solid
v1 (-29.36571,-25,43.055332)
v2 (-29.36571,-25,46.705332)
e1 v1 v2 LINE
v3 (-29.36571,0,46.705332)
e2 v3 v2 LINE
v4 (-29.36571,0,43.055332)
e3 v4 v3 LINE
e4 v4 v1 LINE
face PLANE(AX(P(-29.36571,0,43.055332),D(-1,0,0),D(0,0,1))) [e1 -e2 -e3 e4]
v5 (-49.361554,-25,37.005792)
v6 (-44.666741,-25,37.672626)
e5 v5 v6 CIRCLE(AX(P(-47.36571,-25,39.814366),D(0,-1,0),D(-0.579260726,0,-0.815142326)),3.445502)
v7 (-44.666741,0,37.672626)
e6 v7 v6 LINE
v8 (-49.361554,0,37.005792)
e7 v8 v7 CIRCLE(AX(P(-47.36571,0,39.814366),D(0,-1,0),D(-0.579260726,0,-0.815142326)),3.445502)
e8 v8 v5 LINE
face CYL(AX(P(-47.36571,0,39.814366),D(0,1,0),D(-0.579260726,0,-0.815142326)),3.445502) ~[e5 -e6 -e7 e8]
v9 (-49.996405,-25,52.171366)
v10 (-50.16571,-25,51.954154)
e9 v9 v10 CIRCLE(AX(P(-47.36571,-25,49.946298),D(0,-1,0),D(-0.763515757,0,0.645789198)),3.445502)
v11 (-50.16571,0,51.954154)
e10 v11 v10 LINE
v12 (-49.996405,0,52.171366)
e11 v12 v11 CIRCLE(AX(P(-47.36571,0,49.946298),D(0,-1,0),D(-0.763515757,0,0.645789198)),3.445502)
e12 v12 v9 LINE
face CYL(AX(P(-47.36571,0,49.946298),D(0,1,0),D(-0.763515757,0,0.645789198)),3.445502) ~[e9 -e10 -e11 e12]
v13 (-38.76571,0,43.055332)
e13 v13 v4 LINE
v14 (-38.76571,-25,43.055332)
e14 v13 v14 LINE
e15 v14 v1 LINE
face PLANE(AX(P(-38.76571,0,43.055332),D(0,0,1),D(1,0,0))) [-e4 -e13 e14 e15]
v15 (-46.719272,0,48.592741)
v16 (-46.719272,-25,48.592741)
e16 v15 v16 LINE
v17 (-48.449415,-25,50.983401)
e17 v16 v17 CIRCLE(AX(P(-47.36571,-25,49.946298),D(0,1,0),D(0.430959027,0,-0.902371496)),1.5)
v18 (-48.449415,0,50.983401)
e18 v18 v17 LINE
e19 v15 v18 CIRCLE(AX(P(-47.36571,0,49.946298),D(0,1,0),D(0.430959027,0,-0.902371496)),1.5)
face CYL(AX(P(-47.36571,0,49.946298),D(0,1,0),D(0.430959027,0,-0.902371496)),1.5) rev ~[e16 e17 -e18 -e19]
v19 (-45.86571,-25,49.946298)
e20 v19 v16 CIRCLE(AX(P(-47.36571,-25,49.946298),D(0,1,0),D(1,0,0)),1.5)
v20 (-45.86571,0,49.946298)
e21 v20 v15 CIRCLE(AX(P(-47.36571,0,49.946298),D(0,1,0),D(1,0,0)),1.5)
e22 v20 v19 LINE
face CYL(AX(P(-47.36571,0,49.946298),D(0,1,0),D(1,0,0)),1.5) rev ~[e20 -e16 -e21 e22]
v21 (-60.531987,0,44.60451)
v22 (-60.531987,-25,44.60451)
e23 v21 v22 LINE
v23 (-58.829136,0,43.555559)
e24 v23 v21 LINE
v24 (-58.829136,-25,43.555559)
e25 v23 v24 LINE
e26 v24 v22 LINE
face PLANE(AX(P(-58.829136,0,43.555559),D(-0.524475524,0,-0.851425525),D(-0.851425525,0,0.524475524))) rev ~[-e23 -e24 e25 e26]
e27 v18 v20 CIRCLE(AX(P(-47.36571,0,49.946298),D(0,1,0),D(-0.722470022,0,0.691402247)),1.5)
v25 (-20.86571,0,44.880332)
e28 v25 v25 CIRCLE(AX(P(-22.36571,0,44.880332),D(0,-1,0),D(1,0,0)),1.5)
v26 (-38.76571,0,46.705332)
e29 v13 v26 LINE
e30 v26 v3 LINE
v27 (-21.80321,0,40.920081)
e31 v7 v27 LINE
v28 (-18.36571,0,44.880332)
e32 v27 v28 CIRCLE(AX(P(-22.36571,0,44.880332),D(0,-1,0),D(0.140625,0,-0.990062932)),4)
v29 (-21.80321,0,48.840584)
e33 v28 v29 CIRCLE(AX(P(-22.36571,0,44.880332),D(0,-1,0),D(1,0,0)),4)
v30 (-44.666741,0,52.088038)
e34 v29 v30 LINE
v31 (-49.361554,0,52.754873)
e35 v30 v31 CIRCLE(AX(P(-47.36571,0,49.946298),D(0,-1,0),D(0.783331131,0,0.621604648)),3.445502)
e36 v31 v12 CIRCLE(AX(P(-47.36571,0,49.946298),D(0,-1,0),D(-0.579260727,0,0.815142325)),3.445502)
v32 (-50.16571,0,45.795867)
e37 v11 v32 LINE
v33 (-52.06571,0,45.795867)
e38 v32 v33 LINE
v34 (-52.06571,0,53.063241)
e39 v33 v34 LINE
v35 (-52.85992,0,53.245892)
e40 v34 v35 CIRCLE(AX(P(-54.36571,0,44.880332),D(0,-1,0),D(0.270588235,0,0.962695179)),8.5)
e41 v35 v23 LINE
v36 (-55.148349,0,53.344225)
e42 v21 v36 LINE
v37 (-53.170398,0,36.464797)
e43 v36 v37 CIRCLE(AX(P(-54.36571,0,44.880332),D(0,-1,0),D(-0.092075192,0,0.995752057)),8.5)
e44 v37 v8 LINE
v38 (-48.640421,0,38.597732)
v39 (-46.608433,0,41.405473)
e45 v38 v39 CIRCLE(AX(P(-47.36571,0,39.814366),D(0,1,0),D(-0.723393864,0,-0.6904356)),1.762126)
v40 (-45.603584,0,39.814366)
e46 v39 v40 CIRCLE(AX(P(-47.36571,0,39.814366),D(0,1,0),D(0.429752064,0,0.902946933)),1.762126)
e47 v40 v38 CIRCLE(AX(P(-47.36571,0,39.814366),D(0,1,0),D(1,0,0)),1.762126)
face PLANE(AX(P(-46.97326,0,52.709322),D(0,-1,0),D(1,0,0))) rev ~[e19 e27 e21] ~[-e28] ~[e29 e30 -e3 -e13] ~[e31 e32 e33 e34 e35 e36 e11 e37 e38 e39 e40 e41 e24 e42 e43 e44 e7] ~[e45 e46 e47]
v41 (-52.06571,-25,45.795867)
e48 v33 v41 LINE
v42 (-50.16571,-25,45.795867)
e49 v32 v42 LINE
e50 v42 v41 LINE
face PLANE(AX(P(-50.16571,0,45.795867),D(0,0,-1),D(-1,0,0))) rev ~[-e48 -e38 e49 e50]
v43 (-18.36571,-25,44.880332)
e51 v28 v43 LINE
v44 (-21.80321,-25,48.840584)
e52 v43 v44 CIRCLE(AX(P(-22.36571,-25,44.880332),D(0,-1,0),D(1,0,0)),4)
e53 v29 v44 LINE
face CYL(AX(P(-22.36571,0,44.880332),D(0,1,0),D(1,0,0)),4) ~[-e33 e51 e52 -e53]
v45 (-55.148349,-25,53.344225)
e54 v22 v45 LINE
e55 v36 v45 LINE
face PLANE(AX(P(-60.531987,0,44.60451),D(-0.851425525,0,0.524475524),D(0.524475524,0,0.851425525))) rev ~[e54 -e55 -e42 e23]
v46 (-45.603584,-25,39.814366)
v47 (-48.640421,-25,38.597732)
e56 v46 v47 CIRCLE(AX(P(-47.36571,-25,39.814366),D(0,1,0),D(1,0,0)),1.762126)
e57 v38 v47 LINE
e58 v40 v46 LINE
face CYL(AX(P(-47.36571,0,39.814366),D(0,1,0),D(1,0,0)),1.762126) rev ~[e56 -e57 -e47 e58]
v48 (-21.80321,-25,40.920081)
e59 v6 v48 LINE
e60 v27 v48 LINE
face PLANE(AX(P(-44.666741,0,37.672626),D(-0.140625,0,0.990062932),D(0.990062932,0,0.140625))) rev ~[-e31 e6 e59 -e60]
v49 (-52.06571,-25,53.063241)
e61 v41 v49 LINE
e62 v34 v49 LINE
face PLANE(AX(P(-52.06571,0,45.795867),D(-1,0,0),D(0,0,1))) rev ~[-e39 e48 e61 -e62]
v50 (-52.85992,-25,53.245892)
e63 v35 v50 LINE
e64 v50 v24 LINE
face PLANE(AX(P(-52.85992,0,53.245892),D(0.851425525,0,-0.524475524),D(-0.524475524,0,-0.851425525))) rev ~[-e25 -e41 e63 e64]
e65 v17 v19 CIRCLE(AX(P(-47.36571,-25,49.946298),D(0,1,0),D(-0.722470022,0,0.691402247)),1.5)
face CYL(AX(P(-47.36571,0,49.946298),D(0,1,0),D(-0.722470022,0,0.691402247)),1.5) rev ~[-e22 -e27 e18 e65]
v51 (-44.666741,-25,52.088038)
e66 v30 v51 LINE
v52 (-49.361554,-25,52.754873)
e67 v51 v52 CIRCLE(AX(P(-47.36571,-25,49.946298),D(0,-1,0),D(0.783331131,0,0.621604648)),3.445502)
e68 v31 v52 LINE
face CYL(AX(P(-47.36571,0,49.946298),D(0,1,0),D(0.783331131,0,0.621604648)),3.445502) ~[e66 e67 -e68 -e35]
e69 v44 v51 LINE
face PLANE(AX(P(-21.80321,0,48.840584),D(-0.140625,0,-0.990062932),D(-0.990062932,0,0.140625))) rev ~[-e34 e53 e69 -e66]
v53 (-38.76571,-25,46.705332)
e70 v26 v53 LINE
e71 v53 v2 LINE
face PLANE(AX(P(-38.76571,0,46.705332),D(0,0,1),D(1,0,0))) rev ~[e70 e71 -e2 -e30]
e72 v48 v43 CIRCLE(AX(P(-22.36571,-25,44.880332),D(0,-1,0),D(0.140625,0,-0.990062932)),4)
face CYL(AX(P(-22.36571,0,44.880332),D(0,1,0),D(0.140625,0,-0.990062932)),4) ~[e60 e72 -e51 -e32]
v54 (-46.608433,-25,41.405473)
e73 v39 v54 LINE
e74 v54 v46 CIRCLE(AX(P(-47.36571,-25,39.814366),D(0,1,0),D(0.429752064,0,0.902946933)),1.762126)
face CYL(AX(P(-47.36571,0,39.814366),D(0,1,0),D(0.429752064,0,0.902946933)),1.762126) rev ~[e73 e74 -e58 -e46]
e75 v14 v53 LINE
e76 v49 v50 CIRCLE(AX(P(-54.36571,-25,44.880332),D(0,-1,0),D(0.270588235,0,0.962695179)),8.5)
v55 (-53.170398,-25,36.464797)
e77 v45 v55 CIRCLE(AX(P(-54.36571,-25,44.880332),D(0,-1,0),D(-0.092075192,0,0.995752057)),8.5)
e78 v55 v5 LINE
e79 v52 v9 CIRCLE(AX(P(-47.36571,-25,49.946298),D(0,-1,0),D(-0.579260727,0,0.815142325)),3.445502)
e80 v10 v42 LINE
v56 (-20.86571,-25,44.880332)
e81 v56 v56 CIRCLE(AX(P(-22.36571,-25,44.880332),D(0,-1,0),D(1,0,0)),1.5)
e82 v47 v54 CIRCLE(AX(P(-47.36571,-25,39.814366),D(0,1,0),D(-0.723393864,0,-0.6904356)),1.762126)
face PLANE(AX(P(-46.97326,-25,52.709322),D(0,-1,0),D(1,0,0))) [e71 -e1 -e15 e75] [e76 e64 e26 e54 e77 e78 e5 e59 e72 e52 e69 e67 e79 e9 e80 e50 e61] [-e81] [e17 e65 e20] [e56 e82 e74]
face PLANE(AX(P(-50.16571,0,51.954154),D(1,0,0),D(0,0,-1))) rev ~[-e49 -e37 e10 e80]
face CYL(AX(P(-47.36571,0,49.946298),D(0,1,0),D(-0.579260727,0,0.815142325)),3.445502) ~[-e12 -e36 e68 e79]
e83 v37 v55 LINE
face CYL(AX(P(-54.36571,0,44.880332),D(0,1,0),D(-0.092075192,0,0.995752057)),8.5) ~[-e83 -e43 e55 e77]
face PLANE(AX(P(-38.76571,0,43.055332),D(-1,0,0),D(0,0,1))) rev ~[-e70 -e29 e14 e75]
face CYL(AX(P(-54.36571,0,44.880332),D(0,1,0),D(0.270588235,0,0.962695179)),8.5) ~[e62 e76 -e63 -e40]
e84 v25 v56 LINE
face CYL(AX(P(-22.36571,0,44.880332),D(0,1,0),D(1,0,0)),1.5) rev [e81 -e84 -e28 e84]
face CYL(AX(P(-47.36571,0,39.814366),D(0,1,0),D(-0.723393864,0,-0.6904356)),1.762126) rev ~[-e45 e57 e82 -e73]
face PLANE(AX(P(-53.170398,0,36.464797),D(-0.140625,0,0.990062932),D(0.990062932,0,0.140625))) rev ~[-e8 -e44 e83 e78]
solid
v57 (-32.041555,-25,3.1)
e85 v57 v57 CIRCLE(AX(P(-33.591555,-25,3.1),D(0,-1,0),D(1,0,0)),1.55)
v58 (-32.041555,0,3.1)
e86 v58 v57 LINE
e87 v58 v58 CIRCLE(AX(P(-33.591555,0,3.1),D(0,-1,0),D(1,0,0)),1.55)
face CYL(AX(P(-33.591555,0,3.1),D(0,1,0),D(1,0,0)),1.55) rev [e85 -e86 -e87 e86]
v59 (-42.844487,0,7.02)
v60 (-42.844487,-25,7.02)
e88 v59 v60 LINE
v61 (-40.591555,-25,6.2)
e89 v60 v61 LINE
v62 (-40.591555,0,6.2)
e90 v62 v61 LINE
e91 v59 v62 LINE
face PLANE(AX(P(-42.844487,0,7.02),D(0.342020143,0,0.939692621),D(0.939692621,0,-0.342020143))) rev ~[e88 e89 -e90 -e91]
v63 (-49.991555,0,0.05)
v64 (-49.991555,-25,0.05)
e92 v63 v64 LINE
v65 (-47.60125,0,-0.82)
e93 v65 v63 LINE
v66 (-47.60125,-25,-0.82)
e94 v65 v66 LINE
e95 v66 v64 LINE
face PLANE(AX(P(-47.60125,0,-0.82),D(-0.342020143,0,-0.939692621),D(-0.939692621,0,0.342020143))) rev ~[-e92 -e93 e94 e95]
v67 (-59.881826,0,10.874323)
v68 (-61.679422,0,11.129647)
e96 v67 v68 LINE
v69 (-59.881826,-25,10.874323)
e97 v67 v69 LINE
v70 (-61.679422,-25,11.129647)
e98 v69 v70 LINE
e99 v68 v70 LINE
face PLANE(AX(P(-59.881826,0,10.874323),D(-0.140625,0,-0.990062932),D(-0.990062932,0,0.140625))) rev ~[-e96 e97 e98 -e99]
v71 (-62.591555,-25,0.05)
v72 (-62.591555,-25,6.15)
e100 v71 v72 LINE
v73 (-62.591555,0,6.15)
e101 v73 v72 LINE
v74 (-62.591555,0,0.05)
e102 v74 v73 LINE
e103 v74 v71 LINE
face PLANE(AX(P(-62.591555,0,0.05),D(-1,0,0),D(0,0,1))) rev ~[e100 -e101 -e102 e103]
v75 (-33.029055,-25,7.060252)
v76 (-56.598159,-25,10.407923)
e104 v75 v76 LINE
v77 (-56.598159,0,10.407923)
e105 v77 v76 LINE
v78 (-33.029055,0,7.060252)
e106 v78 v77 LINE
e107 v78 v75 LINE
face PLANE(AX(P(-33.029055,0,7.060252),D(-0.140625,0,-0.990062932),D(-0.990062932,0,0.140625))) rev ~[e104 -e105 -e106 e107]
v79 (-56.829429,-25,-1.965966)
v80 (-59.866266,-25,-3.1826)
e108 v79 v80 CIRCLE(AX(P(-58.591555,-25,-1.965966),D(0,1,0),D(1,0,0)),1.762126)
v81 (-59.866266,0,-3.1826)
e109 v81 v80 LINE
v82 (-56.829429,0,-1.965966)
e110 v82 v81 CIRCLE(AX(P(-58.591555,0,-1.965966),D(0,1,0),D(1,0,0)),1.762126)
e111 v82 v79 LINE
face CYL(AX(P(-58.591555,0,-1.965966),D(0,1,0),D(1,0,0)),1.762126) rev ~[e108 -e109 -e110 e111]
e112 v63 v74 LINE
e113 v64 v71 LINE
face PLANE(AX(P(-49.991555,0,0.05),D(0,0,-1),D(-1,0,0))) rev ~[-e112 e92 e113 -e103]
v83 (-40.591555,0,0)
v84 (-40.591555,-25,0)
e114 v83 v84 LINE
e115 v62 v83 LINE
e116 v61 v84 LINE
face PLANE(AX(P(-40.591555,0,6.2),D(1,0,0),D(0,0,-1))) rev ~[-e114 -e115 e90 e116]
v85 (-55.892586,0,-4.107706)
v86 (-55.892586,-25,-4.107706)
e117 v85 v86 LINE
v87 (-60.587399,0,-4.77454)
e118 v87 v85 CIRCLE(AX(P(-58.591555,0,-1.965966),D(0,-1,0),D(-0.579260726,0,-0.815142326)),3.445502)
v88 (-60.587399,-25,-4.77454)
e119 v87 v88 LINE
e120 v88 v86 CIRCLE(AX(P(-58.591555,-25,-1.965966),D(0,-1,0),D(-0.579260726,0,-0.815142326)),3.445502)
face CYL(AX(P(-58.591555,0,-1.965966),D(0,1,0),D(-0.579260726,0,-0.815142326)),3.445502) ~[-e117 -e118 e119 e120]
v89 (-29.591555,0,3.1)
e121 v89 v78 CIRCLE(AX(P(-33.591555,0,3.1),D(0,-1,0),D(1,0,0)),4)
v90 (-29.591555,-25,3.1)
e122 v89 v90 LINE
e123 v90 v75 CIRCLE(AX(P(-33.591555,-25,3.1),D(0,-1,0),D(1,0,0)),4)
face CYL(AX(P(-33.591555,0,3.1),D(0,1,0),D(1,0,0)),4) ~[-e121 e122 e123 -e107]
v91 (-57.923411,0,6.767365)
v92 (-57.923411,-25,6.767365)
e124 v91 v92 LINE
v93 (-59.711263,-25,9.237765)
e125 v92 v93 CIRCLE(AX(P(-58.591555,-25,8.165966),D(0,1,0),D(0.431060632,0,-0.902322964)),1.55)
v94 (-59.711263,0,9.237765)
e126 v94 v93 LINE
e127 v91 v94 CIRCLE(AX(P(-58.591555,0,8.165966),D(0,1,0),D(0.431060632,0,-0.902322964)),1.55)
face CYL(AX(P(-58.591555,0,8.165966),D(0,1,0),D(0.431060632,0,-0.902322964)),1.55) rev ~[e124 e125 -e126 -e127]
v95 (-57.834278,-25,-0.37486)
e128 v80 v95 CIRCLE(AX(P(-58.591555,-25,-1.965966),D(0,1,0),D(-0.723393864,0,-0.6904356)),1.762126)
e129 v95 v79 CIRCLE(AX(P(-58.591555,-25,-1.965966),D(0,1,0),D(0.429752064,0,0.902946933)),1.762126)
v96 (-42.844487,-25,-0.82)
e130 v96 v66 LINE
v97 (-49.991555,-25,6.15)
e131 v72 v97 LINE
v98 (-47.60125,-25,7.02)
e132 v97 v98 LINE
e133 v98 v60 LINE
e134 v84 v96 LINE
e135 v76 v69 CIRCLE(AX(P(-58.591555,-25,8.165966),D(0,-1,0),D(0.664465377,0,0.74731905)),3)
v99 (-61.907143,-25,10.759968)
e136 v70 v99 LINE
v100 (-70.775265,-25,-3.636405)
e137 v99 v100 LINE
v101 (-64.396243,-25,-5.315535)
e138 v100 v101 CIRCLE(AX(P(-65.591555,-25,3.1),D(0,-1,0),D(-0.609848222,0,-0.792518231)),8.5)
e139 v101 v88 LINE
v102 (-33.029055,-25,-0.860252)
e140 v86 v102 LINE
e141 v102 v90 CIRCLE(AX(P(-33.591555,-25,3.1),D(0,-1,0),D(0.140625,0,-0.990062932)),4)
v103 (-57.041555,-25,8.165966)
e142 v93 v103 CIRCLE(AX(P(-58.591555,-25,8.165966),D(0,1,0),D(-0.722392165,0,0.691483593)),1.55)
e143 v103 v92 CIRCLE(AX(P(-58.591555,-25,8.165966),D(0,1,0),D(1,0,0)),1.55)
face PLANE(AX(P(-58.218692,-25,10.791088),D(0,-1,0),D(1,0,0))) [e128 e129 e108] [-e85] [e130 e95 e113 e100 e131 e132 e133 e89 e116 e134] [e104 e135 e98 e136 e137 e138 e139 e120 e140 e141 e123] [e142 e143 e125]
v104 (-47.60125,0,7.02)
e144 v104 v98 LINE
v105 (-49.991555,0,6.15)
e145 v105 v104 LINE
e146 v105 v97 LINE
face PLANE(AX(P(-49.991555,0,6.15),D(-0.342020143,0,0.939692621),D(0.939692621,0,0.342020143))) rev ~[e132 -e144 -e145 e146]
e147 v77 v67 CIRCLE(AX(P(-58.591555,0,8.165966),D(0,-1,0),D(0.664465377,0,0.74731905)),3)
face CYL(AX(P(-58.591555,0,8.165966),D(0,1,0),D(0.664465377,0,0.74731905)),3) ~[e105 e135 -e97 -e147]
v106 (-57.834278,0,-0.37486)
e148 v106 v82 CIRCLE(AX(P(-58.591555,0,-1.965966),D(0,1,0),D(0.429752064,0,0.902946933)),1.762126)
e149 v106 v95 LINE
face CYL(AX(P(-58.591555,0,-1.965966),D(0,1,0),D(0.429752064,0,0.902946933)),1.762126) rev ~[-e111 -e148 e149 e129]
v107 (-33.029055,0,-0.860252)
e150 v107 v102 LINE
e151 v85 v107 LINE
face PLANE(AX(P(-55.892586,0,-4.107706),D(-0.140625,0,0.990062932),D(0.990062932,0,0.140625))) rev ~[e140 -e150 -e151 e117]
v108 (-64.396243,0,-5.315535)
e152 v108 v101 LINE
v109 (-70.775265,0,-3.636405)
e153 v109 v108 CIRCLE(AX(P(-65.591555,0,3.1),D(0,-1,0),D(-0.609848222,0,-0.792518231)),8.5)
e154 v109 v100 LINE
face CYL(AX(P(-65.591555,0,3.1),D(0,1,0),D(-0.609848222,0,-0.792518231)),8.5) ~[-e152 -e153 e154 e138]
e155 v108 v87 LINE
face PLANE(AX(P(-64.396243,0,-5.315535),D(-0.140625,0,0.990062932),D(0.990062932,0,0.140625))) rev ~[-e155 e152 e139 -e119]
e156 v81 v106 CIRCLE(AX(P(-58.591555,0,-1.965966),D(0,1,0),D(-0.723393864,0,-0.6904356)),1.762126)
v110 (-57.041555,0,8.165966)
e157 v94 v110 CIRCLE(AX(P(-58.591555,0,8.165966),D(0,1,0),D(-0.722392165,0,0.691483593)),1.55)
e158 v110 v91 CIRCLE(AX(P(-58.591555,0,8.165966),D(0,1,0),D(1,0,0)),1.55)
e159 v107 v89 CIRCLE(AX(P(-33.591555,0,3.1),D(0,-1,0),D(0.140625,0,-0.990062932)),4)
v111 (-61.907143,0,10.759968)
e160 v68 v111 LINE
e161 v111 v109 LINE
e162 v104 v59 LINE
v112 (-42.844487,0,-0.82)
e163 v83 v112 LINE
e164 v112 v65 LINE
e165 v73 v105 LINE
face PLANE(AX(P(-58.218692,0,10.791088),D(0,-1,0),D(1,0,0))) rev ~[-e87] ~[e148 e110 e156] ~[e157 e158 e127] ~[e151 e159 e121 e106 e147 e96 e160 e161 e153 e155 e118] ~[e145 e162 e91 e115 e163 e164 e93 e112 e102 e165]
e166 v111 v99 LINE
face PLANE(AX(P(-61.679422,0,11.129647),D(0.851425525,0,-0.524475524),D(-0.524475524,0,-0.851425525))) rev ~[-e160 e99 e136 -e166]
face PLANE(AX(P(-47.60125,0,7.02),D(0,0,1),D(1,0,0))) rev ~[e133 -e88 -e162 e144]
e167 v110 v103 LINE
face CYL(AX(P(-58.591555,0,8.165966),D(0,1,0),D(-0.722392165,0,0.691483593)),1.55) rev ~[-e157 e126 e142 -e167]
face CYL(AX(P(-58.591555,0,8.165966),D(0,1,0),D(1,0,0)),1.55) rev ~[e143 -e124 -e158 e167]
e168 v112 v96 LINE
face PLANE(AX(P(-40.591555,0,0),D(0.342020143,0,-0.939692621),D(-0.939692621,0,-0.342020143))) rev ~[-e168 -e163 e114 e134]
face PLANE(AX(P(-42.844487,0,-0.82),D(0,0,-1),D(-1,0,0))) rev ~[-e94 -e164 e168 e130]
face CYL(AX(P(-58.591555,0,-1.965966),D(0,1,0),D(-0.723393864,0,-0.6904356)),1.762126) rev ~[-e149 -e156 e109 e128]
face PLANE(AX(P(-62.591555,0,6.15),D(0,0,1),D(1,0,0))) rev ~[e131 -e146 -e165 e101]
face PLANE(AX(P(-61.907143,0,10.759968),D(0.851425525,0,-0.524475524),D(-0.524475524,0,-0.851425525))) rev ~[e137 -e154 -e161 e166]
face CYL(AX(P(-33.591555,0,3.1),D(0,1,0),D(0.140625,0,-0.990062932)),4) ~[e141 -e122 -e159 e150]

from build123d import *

# Parameters (mm, degrees)
F0_R     = 1.5
F0_W     = 9.4
F0_H     = 3.65
F1_DEPTH = 25
F0_R_2   = 1.55


with BuildPart() as f1:
    # F0 (on Front) → F1 (new body)
    with BuildSketch(Plane.XZ):
        with BuildLine():
            Line((-49.3615542974, 52.7548726737), (-44.6667412439, 52.0880382086))
            ThreePointArc((-44.6667412439, 52.0880382086), (-46.8811865433, 53.357561984), (-49.3615542974, 52.7548726737))
        make_face()
        with BuildLine():
            ThreePointArc((-49.3615542974, 37.0057918546), (-46.8811865433, 36.4031025443), (-44.6667412439, 37.6726263196))
            Line((-44.6667412439, 37.6726263196), (-49.3615542974, 37.0057918546))
        make_face()
        with BuildLine():
            ThreePointArc((-49.3615542974, 37.0057918546), (-49.6973054486, 37.2776069924), (-49.9964053831, 37.5892984006))
            ThreePointArc((-49.9964053831, 37.5892984006), (-51.5271600553, 36.8683017678), (-53.1703977707, 36.4647973419))
            Line((-53.1703977707, 36.4647973419), (-49.3615542974, 37.0057918546))
        make_face()
        with BuildLine():
            ThreePointArc((-18.3657102707, 44.8803322641), (-19.3449487773, 47.5023543846), (-21.8032102707, 48.8405839922))
            ThreePointArc((-21.8032102707, 48.8405839922), (-26.3657102707, 44.8803322641), (-21.8032102707, 40.920080536))
            ThreePointArc((-21.8032102707, 40.920080536), (-19.3449487773, 42.2583101437), (-18.3657102707, 44.8803322641))
        make_face()
        with Locations((-22.3657102707, 44.8803322641)):
            Circle(F0_R, mode=Mode.SUBTRACT)
        with BuildLine():
            ThreePointArc((-46.7192717295, 48.5927408672), (-46.3438242586, 47.690909573), (-46.0743279136, 46.751956855))
            ThreePointArc((-46.0743279136, 46.751956855), (-44.5090561942, 48.0198994141), (-43.9202082096, 49.9462981111))
            ThreePointArc((-43.9202082096, 49.9462981111), (-44.1121900389, 51.0803574368), (-44.6667412439, 52.0880382086))
            Line((-44.6667412439, 52.0880382086), (-49.3615542974, 52.7548726737))
            ThreePointArc((-49.3615542974, 52.7548726737), (-49.6973054486, 52.4830575358), (-49.9964053831, 52.1713661277))
            ThreePointArc((-49.9964053831, 52.1713661277), (-49.1887221415, 51.6219043293), (-48.4494153042, 50.9834014813))
            ThreePointArc((-48.4494153042, 50.9834014813), (-46.806942676, 51.3383393372), (-45.8657102707, 49.9462981111))
            ThreePointArc((-45.8657102707, 49.9462981111), (-46.096919939, 49.1461911844), (-46.7192717295, 48.5927408672))
        make_face()
        with BuildLine():
            ThreePointArc((-43.9202082096, 39.8143664172), (-44.5090561942, 41.7407651142), (-46.0743279136, 43.0087076733))
            ThreePointArc((-46.0743279136, 43.0087076733), (-46.3014397022, 42.1937842564), (-46.6084329672, 41.4054727221))
            ThreePointArc((-46.6084329672, 41.4054727221), (-45.875826677, 40.7552888716), (-45.6035842286, 39.8143664172))
            ThreePointArc((-45.6035842286, 39.8143664172), (-46.710391094, 38.1786265342), (-48.6404214365, 38.5977318658))
            ThreePointArc((-48.6404214365, 38.5977318658), (-49.2932907183, 38.0597340583), (-49.9964053831, 37.5892984006))
            ThreePointArc((-49.9964053831, 37.5892984006), (-49.6973054486, 37.2776069924), (-49.3615542974, 37.0057918546))
            Line((-49.3615542974, 37.0057918546), (-44.6667412439, 37.6726263196))
            ThreePointArc((-44.6667412439, 37.6726263196), (-44.1121900389, 38.6803070915), (-43.9202082096, 39.8143664172))
        make_face()
        with BuildLine():
            ThreePointArc((-46.0743279136, 46.751956855), (-45.9180256756, 45.8219399226), (-45.8657102707, 44.8803322641))
            ThreePointArc((-45.8657102707, 44.8803322641), (-45.9180256756, 43.9387246056), (-46.0743279136, 43.0087076733))
            ThreePointArc((-46.0743279136, 43.0087076733), (-44.5090561942, 41.7407651142), (-43.9202082096, 39.8143664172))
            ThreePointArc((-43.9202082096, 39.8143664172), (-44.1121900389, 38.6803070915), (-44.6667412439, 37.6726263196))
            Line((-44.6667412439, 37.6726263196), (-21.8032102707, 40.920080536))
            ThreePointArc((-21.8032102707, 40.920080536), (-26.3657102707, 44.8803322641), (-21.8032102707, 48.8405839922))
            Line((-21.8032102707, 48.8405839922), (-44.6667412439, 52.0880382086))
            ThreePointArc((-44.6667412439, 52.0880382086), (-44.1121900389, 51.0803574368), (-43.9202082096, 49.9462981111))
            ThreePointArc((-43.9202082096, 49.9462981111), (-44.5090561942, 48.0198994141), (-46.0743279136, 46.751956855))
        make_face()
        with Locations((-34.0657102707, 44.8803322641)):
            Rectangle(F0_W, F0_H, mode=Mode.SUBTRACT)
        with BuildLine():
            ThreePointArc((-46.0743279136, 43.0087076733), (-45.9180256756, 43.9387246056), (-45.8657102707, 44.8803322641))
            ThreePointArc((-45.8657102707, 44.8803322641), (-45.9180256756, 45.8219399226), (-46.0743279136, 46.751956855))
            ThreePointArc((-46.0743279136, 46.751956855), (-48.3253554138, 46.6371342209), (-50.1657102707, 47.9384424259))
            Line((-50.1657102707, 47.9384424259), (-50.1657102707, 45.7958671864))
            Line((-50.1657102707, 45.7958671864), (-52.0657102707, 45.7958671864))
            Line((-52.0657102707, 45.7958671864), (-52.0657102707, 53.0632412823))
            ThreePointArc((-52.0657102707, 53.0632412823), (-52.4606249782, 53.1640904709), (-52.8599201475, 53.2458923831))
            Line((-52.8599201475, 53.2458923831), (-58.8291358212, 43.555559183))
            Line((-58.8291358212, 43.555559183), (-60.5319868708, 44.604510232))
            Line((-60.5319868708, 44.604510232), (-55.1483494046, 53.3442247484))
            ThreePointArc((-55.1483494046, 53.3442247484), (-62.8079458881, 43.8910609262), (-53.1703977707, 36.4647973419))
            ThreePointArc((-53.1703977707, 36.4647973419), (-51.5271600553, 36.8683017678), (-49.9964053831, 37.5892984006))
            ThreePointArc((-49.9964053831, 37.5892984006), (-50.1569356074, 41.8344024496), (-46.0743279136, 43.0087076733))
        make_face()
        with BuildLine():
            ThreePointArc((-50.1657102707, 47.9384424259), (-48.3253554138, 46.6371342209), (-46.0743279136, 46.751956855))
            ThreePointArc((-46.0743279136, 46.751956855), (-46.3438242586, 47.690909573), (-46.7192717295, 48.5927408672))
            ThreePointArc((-46.7192717295, 48.5927408672), (-48.58087077, 49.066875027), (-48.4494153042, 50.9834014813))
            ThreePointArc((-48.4494153042, 50.9834014813), (-49.1887221415, 51.6219043293), (-49.9964053831, 52.1713661277))
            ThreePointArc((-49.9964053831, 52.1713661277), (-50.0832289275, 52.0644522137), (-50.1657102707, 51.9541537963))
            Line((-50.1657102707, 51.9541537963), (-50.1657102707, 47.9384424259))
        make_face()
        with BuildLine():
            ThreePointArc((-46.6084329672, 41.4054727221), (-46.3014397022, 42.1937842564), (-46.0743279136, 43.0087076733))
            ThreePointArc((-46.0743279136, 43.0087076733), (-50.1569356074, 41.8344024496), (-49.9964053831, 37.5892984006))
            ThreePointArc((-49.9964053831, 37.5892984006), (-49.2932907183, 38.0597340583), (-48.6404214365, 38.5977318658))
            ThreePointArc((-48.6404214365, 38.5977318658), (-48.7932209115, 40.8474692961), (-46.6084329672, 41.4054727221))
        make_face()
    extrude(amount=F1_DEPTH)


with BuildPart() as f1b:
    # F0 (on Front) → F1, piece 2 (new body)
    with BuildSketch(Plane.XZ):
        with BuildLine():
            ThreePointArc((-56.5981590856, 10.4079229965), (-58.1696802178, 11.1361546431), (-59.88182635, 10.8743233576))
            Line((-59.88182635, 10.8743233576), (-56.5981590856, 10.4079229965))
        make_face()
        with BuildLine():
            Line((-55.8925861911, -4.1077059445), (-60.5873992446, -4.7745404096))
            ThreePointArc((-60.5873992446, -4.7745404096), (-58.1070314905, -5.3772297198), (-55.8925861911, -4.1077059445))
        make_face()
        with BuildLine():
            ThreePointArc((-61.2222503302, -4.1910338635), (-62.7530050024, -4.9120304964), (-64.3962427178, -5.3155349222))
            Line((-64.3962427178, -5.3155349222), (-60.5873992446, -4.7745404096))
            ThreePointArc((-60.5873992446, -4.7745404096), (-60.9231503958, -4.5027252717), (-61.2222503302, -4.1910338635))
        make_face()
        with BuildLine():
            ThreePointArc((-29.5915552178, 3.1), (-30.5707937244, 5.7220221204), (-33.0290552178, 7.0602517281))
            ThreePointArc((-33.0290552178, 7.0602517281), (-37.5915552178, 3.1), (-33.0290552178, -0.8602517281))
            ThreePointArc((-33.0290552178, -0.8602517281), (-30.5707937244, 0.4779778796), (-29.5915552178, 3.1))
        make_face()
        with Locations((-33.5915552178, 3.1)):
            Circle(F0_R_2, mode=Mode.SUBTRACT)
        with BuildLine():
            Line((-61.6794219157, 11.1296474065), (-61.9071433305, 10.7599679532))
            ThreePointArc((-61.9071433305, 10.7599679532), (-61.3636857461, 10.4739487203), (-60.8422981172, 10.1494366436))
            ThreePointArc((-60.8422981172, 10.1494366436), (-60.3987796864, 10.5605304671), (-59.88182635, 10.8743233576))
            Line((-59.88182635, 10.8743233576), (-61.6794219157, 11.1296474065))
        make_face()
        with BuildLine():
            ThreePointArc((-59.88182635, 10.8743233576), (-60.3987796864, 10.5605304671), (-60.8422981172, 10.1494366436))
            ThreePointArc((-60.8422981172, 10.1494366436), (-60.2572684434, 9.7178081423), (-59.7112630741, 9.2377654162))
            ThreePointArc((-59.7112630741, 9.2377654162), (-58.0140810527, 9.6043759375), (-57.0415552178, 8.165965847))
            ThreePointArc((-57.0415552178, 8.165965847), (-57.2804253293, 7.3392625052), (-57.9234112376, 6.7673652529))
            ThreePointArc((-57.9234112376, 6.7673652529), (-57.7844053967, 6.4613110048), (-57.6576091631, 6.15))
            Line((-57.6576091631, 6.15), (-56.3698707884, 6.15))
            ThreePointArc((-56.3698707884, 6.15), (-55.7928900639, 7.0854690372), (-55.5915552178, 8.165965847))
            ThreePointArc((-55.5915552178, 8.165965847), (-55.8547515716, 9.3947480904), (-56.5981590856, 10.4079229965))
            Line((-56.5981590856, 10.4079229965), (-59.88182635, 10.8743233576))
        make_face()
        with BuildLine():
            Line((-61.9071433305, 10.7599679532), (-70.7752651046, -3.6364049619))
            ThreePointArc((-70.7752651046, -3.6364049619), (-67.7552783481, -5.119994052), (-64.3962427178, -5.3155349222))
            ThreePointArc((-64.3962427178, -5.3155349222), (-62.7530050024, -4.9120304964), (-61.2222503302, -4.1910338635))
            ThreePointArc((-61.2222503302, -4.1910338635), (-62.0345005853, -2.0986747351), (-61.3857216689, 0.05))
            Line((-61.3857216689, 0.05), (-62.5915552178, 0.05))
            Line((-62.5915552178, 0.05), (-62.5915552178, 6.15))
            Line((-62.5915552178, 6.15), (-60.8132396472, 6.15))
            ThreePointArc((-60.8132396472, 6.15), (-61.5914760367, 8.1441695), (-60.8422981172, 10.1494366436))
            ThreePointArc((-60.8422981172, 10.1494366436), (-61.3636857461, 10.4739487203), (-61.9071433305, 10.7599679532))
        make_face()
        with BuildLine():
            ThreePointArc((-59.8662663837, -3.1826003984), (-60.5191356655, -3.7205982058), (-61.2222503302, -4.1910338635))
            ThreePointArc((-61.2222503302, -4.1910338635), (-60.9231503958, -4.5027252717), (-60.5873992446, -4.7745404096))
            Line((-60.5873992446, -4.7745404096), (-55.8925861911, -4.1077059445))
            ThreePointArc((-55.8925861911, -4.1077059445), (-55.3380349861, -3.1000251727), (-55.1460531568, -1.965965847))
            ThreePointArc((-55.1460531568, -1.965965847), (-55.3129281638, -0.9066787786), (-55.7973887667, 0.05))
            Line((-55.7973887667, 0.05), (-57.6576091631, 0.05))
            ThreePointArc((-57.6576091631, 0.05), (-57.7430681644, -0.1636254339), (-57.8342779143, -0.374859542))
            ThreePointArc((-57.8342779143, -0.374859542), (-57.1016716241, -1.0250433925), (-56.8294291758, -1.965965847))
            ThreePointArc((-56.8294291758, -1.965965847), (-57.9362360412, -3.6017057299), (-59.8662663837, -3.1826003984))
        make_face()
        with BuildLine():
            Line((-33.0290552178, 7.0602517281), (-56.5981590856, 10.4079229965))
            ThreePointArc((-56.5981590856, 10.4079229965), (-55.8547515716, 9.3947480904), (-55.5915552178, 8.165965847))
            ThreePointArc((-55.5915552178, 8.165965847), (-55.7928900639, 7.0854690372), (-56.3698707884, 6.15))
            Line((-56.3698707884, 6.15), (-49.9915552178, 6.15))
            Line((-49.9915552178, 6.15), (-49.9915552178, 7.02))
            Line((-49.9915552178, 7.02), (-47.6012498629, 7.02))
            Line((-47.6012498629, 7.02), (-42.8444867018, 7.02))
            Line((-42.8444867018, 7.02), (-40.5915552178, 7.02))
            Line((-40.5915552178, 7.02), (-40.5915552178, 6.2))
            Line((-40.5915552178, 6.2), (-40.5915552178, 0))
            Line((-40.5915552178, 0), (-40.5915552178, -0.82))
            Line((-40.5915552178, -0.82), (-42.8444867018, -0.82))
            Line((-42.8444867018, -0.82), (-47.6012498629, -0.82))
            Line((-47.6012498629, -0.82), (-49.9915552178, -0.82))
            Line((-49.9915552178, -0.82), (-49.9915552178, 0.05))
            Line((-49.9915552178, 0.05), (-55.7973887667, 0.05))
            ThreePointArc((-55.7973887667, 0.05), (-55.3129281638, -0.9066787786), (-55.1460531568, -1.965965847))
            ThreePointArc((-55.1460531568, -1.965965847), (-55.3380349861, -3.1000251727), (-55.8925861911, -4.1077059445))
            Line((-55.8925861911, -4.1077059445), (-33.0290552178, -0.8602517281))
            ThreePointArc((-33.0290552178, -0.8602517281), (-37.5915552178, 3.1), (-33.0290552178, 7.0602517281))
        make_face()
        with BuildLine():
            ThreePointArc((-61.3857216689, 0.05), (-62.0345005853, -2.0986747351), (-61.2222503302, -4.1910338635))
            ThreePointArc((-61.2222503302, -4.1910338635), (-60.5191356655, -3.7205982058), (-59.8662663837, -3.1826003984))
            ThreePointArc((-59.8662663837, -3.1826003984), (-60.0190658586, -0.932862968), (-57.8342779143, -0.374859542))
            ThreePointArc((-57.8342779143, -0.374859542), (-57.7430681644, -0.1636254339), (-57.6576091631, 0.05))
            Line((-57.6576091631, 0.05), (-61.3857216689, 0.05))
        make_face()
        with BuildLine():
            ThreePointArc((-59.7112630741, 9.2377654162), (-60.2572684434, 9.7178081423), (-60.8422981172, 10.1494366436))
            ThreePointArc((-60.8422981172, 10.1494366436), (-61.5914760367, 8.1441695), (-60.8132396472, 6.15))
            Line((-60.8132396472, 6.15), (-57.6576091631, 6.15))
            ThreePointArc((-57.6576091631, 6.15), (-57.7844053967, 6.4613110048), (-57.9234112376, 6.7673652529))
            ThreePointArc((-57.9234112376, 6.7673652529), (-59.8472210672, 7.2572286601), (-59.7112630741, 9.2377654162))
        make_face()
        Polygon((-40.5915552178, 0), (-42.8444867018, -0.82), (-40.5915552178, -0.82), align=None)
        Polygon((-47.6012498629, -0.82), (-49.9915552178, 0.05), (-49.9915552178, -0.82), align=None)
        Polygon((-40.5915552178, 7.02), (-42.8444867018, 7.02), (-40.5915552178, 6.2), align=None)
        Polygon((-49.9915552178, 7.02), (-49.9915552178, 6.15), (-47.6012498629, 7.02), align=None)
    extrude(amount=F1_DEPTH)


solid = Compound([f1.part, f1b.part])
